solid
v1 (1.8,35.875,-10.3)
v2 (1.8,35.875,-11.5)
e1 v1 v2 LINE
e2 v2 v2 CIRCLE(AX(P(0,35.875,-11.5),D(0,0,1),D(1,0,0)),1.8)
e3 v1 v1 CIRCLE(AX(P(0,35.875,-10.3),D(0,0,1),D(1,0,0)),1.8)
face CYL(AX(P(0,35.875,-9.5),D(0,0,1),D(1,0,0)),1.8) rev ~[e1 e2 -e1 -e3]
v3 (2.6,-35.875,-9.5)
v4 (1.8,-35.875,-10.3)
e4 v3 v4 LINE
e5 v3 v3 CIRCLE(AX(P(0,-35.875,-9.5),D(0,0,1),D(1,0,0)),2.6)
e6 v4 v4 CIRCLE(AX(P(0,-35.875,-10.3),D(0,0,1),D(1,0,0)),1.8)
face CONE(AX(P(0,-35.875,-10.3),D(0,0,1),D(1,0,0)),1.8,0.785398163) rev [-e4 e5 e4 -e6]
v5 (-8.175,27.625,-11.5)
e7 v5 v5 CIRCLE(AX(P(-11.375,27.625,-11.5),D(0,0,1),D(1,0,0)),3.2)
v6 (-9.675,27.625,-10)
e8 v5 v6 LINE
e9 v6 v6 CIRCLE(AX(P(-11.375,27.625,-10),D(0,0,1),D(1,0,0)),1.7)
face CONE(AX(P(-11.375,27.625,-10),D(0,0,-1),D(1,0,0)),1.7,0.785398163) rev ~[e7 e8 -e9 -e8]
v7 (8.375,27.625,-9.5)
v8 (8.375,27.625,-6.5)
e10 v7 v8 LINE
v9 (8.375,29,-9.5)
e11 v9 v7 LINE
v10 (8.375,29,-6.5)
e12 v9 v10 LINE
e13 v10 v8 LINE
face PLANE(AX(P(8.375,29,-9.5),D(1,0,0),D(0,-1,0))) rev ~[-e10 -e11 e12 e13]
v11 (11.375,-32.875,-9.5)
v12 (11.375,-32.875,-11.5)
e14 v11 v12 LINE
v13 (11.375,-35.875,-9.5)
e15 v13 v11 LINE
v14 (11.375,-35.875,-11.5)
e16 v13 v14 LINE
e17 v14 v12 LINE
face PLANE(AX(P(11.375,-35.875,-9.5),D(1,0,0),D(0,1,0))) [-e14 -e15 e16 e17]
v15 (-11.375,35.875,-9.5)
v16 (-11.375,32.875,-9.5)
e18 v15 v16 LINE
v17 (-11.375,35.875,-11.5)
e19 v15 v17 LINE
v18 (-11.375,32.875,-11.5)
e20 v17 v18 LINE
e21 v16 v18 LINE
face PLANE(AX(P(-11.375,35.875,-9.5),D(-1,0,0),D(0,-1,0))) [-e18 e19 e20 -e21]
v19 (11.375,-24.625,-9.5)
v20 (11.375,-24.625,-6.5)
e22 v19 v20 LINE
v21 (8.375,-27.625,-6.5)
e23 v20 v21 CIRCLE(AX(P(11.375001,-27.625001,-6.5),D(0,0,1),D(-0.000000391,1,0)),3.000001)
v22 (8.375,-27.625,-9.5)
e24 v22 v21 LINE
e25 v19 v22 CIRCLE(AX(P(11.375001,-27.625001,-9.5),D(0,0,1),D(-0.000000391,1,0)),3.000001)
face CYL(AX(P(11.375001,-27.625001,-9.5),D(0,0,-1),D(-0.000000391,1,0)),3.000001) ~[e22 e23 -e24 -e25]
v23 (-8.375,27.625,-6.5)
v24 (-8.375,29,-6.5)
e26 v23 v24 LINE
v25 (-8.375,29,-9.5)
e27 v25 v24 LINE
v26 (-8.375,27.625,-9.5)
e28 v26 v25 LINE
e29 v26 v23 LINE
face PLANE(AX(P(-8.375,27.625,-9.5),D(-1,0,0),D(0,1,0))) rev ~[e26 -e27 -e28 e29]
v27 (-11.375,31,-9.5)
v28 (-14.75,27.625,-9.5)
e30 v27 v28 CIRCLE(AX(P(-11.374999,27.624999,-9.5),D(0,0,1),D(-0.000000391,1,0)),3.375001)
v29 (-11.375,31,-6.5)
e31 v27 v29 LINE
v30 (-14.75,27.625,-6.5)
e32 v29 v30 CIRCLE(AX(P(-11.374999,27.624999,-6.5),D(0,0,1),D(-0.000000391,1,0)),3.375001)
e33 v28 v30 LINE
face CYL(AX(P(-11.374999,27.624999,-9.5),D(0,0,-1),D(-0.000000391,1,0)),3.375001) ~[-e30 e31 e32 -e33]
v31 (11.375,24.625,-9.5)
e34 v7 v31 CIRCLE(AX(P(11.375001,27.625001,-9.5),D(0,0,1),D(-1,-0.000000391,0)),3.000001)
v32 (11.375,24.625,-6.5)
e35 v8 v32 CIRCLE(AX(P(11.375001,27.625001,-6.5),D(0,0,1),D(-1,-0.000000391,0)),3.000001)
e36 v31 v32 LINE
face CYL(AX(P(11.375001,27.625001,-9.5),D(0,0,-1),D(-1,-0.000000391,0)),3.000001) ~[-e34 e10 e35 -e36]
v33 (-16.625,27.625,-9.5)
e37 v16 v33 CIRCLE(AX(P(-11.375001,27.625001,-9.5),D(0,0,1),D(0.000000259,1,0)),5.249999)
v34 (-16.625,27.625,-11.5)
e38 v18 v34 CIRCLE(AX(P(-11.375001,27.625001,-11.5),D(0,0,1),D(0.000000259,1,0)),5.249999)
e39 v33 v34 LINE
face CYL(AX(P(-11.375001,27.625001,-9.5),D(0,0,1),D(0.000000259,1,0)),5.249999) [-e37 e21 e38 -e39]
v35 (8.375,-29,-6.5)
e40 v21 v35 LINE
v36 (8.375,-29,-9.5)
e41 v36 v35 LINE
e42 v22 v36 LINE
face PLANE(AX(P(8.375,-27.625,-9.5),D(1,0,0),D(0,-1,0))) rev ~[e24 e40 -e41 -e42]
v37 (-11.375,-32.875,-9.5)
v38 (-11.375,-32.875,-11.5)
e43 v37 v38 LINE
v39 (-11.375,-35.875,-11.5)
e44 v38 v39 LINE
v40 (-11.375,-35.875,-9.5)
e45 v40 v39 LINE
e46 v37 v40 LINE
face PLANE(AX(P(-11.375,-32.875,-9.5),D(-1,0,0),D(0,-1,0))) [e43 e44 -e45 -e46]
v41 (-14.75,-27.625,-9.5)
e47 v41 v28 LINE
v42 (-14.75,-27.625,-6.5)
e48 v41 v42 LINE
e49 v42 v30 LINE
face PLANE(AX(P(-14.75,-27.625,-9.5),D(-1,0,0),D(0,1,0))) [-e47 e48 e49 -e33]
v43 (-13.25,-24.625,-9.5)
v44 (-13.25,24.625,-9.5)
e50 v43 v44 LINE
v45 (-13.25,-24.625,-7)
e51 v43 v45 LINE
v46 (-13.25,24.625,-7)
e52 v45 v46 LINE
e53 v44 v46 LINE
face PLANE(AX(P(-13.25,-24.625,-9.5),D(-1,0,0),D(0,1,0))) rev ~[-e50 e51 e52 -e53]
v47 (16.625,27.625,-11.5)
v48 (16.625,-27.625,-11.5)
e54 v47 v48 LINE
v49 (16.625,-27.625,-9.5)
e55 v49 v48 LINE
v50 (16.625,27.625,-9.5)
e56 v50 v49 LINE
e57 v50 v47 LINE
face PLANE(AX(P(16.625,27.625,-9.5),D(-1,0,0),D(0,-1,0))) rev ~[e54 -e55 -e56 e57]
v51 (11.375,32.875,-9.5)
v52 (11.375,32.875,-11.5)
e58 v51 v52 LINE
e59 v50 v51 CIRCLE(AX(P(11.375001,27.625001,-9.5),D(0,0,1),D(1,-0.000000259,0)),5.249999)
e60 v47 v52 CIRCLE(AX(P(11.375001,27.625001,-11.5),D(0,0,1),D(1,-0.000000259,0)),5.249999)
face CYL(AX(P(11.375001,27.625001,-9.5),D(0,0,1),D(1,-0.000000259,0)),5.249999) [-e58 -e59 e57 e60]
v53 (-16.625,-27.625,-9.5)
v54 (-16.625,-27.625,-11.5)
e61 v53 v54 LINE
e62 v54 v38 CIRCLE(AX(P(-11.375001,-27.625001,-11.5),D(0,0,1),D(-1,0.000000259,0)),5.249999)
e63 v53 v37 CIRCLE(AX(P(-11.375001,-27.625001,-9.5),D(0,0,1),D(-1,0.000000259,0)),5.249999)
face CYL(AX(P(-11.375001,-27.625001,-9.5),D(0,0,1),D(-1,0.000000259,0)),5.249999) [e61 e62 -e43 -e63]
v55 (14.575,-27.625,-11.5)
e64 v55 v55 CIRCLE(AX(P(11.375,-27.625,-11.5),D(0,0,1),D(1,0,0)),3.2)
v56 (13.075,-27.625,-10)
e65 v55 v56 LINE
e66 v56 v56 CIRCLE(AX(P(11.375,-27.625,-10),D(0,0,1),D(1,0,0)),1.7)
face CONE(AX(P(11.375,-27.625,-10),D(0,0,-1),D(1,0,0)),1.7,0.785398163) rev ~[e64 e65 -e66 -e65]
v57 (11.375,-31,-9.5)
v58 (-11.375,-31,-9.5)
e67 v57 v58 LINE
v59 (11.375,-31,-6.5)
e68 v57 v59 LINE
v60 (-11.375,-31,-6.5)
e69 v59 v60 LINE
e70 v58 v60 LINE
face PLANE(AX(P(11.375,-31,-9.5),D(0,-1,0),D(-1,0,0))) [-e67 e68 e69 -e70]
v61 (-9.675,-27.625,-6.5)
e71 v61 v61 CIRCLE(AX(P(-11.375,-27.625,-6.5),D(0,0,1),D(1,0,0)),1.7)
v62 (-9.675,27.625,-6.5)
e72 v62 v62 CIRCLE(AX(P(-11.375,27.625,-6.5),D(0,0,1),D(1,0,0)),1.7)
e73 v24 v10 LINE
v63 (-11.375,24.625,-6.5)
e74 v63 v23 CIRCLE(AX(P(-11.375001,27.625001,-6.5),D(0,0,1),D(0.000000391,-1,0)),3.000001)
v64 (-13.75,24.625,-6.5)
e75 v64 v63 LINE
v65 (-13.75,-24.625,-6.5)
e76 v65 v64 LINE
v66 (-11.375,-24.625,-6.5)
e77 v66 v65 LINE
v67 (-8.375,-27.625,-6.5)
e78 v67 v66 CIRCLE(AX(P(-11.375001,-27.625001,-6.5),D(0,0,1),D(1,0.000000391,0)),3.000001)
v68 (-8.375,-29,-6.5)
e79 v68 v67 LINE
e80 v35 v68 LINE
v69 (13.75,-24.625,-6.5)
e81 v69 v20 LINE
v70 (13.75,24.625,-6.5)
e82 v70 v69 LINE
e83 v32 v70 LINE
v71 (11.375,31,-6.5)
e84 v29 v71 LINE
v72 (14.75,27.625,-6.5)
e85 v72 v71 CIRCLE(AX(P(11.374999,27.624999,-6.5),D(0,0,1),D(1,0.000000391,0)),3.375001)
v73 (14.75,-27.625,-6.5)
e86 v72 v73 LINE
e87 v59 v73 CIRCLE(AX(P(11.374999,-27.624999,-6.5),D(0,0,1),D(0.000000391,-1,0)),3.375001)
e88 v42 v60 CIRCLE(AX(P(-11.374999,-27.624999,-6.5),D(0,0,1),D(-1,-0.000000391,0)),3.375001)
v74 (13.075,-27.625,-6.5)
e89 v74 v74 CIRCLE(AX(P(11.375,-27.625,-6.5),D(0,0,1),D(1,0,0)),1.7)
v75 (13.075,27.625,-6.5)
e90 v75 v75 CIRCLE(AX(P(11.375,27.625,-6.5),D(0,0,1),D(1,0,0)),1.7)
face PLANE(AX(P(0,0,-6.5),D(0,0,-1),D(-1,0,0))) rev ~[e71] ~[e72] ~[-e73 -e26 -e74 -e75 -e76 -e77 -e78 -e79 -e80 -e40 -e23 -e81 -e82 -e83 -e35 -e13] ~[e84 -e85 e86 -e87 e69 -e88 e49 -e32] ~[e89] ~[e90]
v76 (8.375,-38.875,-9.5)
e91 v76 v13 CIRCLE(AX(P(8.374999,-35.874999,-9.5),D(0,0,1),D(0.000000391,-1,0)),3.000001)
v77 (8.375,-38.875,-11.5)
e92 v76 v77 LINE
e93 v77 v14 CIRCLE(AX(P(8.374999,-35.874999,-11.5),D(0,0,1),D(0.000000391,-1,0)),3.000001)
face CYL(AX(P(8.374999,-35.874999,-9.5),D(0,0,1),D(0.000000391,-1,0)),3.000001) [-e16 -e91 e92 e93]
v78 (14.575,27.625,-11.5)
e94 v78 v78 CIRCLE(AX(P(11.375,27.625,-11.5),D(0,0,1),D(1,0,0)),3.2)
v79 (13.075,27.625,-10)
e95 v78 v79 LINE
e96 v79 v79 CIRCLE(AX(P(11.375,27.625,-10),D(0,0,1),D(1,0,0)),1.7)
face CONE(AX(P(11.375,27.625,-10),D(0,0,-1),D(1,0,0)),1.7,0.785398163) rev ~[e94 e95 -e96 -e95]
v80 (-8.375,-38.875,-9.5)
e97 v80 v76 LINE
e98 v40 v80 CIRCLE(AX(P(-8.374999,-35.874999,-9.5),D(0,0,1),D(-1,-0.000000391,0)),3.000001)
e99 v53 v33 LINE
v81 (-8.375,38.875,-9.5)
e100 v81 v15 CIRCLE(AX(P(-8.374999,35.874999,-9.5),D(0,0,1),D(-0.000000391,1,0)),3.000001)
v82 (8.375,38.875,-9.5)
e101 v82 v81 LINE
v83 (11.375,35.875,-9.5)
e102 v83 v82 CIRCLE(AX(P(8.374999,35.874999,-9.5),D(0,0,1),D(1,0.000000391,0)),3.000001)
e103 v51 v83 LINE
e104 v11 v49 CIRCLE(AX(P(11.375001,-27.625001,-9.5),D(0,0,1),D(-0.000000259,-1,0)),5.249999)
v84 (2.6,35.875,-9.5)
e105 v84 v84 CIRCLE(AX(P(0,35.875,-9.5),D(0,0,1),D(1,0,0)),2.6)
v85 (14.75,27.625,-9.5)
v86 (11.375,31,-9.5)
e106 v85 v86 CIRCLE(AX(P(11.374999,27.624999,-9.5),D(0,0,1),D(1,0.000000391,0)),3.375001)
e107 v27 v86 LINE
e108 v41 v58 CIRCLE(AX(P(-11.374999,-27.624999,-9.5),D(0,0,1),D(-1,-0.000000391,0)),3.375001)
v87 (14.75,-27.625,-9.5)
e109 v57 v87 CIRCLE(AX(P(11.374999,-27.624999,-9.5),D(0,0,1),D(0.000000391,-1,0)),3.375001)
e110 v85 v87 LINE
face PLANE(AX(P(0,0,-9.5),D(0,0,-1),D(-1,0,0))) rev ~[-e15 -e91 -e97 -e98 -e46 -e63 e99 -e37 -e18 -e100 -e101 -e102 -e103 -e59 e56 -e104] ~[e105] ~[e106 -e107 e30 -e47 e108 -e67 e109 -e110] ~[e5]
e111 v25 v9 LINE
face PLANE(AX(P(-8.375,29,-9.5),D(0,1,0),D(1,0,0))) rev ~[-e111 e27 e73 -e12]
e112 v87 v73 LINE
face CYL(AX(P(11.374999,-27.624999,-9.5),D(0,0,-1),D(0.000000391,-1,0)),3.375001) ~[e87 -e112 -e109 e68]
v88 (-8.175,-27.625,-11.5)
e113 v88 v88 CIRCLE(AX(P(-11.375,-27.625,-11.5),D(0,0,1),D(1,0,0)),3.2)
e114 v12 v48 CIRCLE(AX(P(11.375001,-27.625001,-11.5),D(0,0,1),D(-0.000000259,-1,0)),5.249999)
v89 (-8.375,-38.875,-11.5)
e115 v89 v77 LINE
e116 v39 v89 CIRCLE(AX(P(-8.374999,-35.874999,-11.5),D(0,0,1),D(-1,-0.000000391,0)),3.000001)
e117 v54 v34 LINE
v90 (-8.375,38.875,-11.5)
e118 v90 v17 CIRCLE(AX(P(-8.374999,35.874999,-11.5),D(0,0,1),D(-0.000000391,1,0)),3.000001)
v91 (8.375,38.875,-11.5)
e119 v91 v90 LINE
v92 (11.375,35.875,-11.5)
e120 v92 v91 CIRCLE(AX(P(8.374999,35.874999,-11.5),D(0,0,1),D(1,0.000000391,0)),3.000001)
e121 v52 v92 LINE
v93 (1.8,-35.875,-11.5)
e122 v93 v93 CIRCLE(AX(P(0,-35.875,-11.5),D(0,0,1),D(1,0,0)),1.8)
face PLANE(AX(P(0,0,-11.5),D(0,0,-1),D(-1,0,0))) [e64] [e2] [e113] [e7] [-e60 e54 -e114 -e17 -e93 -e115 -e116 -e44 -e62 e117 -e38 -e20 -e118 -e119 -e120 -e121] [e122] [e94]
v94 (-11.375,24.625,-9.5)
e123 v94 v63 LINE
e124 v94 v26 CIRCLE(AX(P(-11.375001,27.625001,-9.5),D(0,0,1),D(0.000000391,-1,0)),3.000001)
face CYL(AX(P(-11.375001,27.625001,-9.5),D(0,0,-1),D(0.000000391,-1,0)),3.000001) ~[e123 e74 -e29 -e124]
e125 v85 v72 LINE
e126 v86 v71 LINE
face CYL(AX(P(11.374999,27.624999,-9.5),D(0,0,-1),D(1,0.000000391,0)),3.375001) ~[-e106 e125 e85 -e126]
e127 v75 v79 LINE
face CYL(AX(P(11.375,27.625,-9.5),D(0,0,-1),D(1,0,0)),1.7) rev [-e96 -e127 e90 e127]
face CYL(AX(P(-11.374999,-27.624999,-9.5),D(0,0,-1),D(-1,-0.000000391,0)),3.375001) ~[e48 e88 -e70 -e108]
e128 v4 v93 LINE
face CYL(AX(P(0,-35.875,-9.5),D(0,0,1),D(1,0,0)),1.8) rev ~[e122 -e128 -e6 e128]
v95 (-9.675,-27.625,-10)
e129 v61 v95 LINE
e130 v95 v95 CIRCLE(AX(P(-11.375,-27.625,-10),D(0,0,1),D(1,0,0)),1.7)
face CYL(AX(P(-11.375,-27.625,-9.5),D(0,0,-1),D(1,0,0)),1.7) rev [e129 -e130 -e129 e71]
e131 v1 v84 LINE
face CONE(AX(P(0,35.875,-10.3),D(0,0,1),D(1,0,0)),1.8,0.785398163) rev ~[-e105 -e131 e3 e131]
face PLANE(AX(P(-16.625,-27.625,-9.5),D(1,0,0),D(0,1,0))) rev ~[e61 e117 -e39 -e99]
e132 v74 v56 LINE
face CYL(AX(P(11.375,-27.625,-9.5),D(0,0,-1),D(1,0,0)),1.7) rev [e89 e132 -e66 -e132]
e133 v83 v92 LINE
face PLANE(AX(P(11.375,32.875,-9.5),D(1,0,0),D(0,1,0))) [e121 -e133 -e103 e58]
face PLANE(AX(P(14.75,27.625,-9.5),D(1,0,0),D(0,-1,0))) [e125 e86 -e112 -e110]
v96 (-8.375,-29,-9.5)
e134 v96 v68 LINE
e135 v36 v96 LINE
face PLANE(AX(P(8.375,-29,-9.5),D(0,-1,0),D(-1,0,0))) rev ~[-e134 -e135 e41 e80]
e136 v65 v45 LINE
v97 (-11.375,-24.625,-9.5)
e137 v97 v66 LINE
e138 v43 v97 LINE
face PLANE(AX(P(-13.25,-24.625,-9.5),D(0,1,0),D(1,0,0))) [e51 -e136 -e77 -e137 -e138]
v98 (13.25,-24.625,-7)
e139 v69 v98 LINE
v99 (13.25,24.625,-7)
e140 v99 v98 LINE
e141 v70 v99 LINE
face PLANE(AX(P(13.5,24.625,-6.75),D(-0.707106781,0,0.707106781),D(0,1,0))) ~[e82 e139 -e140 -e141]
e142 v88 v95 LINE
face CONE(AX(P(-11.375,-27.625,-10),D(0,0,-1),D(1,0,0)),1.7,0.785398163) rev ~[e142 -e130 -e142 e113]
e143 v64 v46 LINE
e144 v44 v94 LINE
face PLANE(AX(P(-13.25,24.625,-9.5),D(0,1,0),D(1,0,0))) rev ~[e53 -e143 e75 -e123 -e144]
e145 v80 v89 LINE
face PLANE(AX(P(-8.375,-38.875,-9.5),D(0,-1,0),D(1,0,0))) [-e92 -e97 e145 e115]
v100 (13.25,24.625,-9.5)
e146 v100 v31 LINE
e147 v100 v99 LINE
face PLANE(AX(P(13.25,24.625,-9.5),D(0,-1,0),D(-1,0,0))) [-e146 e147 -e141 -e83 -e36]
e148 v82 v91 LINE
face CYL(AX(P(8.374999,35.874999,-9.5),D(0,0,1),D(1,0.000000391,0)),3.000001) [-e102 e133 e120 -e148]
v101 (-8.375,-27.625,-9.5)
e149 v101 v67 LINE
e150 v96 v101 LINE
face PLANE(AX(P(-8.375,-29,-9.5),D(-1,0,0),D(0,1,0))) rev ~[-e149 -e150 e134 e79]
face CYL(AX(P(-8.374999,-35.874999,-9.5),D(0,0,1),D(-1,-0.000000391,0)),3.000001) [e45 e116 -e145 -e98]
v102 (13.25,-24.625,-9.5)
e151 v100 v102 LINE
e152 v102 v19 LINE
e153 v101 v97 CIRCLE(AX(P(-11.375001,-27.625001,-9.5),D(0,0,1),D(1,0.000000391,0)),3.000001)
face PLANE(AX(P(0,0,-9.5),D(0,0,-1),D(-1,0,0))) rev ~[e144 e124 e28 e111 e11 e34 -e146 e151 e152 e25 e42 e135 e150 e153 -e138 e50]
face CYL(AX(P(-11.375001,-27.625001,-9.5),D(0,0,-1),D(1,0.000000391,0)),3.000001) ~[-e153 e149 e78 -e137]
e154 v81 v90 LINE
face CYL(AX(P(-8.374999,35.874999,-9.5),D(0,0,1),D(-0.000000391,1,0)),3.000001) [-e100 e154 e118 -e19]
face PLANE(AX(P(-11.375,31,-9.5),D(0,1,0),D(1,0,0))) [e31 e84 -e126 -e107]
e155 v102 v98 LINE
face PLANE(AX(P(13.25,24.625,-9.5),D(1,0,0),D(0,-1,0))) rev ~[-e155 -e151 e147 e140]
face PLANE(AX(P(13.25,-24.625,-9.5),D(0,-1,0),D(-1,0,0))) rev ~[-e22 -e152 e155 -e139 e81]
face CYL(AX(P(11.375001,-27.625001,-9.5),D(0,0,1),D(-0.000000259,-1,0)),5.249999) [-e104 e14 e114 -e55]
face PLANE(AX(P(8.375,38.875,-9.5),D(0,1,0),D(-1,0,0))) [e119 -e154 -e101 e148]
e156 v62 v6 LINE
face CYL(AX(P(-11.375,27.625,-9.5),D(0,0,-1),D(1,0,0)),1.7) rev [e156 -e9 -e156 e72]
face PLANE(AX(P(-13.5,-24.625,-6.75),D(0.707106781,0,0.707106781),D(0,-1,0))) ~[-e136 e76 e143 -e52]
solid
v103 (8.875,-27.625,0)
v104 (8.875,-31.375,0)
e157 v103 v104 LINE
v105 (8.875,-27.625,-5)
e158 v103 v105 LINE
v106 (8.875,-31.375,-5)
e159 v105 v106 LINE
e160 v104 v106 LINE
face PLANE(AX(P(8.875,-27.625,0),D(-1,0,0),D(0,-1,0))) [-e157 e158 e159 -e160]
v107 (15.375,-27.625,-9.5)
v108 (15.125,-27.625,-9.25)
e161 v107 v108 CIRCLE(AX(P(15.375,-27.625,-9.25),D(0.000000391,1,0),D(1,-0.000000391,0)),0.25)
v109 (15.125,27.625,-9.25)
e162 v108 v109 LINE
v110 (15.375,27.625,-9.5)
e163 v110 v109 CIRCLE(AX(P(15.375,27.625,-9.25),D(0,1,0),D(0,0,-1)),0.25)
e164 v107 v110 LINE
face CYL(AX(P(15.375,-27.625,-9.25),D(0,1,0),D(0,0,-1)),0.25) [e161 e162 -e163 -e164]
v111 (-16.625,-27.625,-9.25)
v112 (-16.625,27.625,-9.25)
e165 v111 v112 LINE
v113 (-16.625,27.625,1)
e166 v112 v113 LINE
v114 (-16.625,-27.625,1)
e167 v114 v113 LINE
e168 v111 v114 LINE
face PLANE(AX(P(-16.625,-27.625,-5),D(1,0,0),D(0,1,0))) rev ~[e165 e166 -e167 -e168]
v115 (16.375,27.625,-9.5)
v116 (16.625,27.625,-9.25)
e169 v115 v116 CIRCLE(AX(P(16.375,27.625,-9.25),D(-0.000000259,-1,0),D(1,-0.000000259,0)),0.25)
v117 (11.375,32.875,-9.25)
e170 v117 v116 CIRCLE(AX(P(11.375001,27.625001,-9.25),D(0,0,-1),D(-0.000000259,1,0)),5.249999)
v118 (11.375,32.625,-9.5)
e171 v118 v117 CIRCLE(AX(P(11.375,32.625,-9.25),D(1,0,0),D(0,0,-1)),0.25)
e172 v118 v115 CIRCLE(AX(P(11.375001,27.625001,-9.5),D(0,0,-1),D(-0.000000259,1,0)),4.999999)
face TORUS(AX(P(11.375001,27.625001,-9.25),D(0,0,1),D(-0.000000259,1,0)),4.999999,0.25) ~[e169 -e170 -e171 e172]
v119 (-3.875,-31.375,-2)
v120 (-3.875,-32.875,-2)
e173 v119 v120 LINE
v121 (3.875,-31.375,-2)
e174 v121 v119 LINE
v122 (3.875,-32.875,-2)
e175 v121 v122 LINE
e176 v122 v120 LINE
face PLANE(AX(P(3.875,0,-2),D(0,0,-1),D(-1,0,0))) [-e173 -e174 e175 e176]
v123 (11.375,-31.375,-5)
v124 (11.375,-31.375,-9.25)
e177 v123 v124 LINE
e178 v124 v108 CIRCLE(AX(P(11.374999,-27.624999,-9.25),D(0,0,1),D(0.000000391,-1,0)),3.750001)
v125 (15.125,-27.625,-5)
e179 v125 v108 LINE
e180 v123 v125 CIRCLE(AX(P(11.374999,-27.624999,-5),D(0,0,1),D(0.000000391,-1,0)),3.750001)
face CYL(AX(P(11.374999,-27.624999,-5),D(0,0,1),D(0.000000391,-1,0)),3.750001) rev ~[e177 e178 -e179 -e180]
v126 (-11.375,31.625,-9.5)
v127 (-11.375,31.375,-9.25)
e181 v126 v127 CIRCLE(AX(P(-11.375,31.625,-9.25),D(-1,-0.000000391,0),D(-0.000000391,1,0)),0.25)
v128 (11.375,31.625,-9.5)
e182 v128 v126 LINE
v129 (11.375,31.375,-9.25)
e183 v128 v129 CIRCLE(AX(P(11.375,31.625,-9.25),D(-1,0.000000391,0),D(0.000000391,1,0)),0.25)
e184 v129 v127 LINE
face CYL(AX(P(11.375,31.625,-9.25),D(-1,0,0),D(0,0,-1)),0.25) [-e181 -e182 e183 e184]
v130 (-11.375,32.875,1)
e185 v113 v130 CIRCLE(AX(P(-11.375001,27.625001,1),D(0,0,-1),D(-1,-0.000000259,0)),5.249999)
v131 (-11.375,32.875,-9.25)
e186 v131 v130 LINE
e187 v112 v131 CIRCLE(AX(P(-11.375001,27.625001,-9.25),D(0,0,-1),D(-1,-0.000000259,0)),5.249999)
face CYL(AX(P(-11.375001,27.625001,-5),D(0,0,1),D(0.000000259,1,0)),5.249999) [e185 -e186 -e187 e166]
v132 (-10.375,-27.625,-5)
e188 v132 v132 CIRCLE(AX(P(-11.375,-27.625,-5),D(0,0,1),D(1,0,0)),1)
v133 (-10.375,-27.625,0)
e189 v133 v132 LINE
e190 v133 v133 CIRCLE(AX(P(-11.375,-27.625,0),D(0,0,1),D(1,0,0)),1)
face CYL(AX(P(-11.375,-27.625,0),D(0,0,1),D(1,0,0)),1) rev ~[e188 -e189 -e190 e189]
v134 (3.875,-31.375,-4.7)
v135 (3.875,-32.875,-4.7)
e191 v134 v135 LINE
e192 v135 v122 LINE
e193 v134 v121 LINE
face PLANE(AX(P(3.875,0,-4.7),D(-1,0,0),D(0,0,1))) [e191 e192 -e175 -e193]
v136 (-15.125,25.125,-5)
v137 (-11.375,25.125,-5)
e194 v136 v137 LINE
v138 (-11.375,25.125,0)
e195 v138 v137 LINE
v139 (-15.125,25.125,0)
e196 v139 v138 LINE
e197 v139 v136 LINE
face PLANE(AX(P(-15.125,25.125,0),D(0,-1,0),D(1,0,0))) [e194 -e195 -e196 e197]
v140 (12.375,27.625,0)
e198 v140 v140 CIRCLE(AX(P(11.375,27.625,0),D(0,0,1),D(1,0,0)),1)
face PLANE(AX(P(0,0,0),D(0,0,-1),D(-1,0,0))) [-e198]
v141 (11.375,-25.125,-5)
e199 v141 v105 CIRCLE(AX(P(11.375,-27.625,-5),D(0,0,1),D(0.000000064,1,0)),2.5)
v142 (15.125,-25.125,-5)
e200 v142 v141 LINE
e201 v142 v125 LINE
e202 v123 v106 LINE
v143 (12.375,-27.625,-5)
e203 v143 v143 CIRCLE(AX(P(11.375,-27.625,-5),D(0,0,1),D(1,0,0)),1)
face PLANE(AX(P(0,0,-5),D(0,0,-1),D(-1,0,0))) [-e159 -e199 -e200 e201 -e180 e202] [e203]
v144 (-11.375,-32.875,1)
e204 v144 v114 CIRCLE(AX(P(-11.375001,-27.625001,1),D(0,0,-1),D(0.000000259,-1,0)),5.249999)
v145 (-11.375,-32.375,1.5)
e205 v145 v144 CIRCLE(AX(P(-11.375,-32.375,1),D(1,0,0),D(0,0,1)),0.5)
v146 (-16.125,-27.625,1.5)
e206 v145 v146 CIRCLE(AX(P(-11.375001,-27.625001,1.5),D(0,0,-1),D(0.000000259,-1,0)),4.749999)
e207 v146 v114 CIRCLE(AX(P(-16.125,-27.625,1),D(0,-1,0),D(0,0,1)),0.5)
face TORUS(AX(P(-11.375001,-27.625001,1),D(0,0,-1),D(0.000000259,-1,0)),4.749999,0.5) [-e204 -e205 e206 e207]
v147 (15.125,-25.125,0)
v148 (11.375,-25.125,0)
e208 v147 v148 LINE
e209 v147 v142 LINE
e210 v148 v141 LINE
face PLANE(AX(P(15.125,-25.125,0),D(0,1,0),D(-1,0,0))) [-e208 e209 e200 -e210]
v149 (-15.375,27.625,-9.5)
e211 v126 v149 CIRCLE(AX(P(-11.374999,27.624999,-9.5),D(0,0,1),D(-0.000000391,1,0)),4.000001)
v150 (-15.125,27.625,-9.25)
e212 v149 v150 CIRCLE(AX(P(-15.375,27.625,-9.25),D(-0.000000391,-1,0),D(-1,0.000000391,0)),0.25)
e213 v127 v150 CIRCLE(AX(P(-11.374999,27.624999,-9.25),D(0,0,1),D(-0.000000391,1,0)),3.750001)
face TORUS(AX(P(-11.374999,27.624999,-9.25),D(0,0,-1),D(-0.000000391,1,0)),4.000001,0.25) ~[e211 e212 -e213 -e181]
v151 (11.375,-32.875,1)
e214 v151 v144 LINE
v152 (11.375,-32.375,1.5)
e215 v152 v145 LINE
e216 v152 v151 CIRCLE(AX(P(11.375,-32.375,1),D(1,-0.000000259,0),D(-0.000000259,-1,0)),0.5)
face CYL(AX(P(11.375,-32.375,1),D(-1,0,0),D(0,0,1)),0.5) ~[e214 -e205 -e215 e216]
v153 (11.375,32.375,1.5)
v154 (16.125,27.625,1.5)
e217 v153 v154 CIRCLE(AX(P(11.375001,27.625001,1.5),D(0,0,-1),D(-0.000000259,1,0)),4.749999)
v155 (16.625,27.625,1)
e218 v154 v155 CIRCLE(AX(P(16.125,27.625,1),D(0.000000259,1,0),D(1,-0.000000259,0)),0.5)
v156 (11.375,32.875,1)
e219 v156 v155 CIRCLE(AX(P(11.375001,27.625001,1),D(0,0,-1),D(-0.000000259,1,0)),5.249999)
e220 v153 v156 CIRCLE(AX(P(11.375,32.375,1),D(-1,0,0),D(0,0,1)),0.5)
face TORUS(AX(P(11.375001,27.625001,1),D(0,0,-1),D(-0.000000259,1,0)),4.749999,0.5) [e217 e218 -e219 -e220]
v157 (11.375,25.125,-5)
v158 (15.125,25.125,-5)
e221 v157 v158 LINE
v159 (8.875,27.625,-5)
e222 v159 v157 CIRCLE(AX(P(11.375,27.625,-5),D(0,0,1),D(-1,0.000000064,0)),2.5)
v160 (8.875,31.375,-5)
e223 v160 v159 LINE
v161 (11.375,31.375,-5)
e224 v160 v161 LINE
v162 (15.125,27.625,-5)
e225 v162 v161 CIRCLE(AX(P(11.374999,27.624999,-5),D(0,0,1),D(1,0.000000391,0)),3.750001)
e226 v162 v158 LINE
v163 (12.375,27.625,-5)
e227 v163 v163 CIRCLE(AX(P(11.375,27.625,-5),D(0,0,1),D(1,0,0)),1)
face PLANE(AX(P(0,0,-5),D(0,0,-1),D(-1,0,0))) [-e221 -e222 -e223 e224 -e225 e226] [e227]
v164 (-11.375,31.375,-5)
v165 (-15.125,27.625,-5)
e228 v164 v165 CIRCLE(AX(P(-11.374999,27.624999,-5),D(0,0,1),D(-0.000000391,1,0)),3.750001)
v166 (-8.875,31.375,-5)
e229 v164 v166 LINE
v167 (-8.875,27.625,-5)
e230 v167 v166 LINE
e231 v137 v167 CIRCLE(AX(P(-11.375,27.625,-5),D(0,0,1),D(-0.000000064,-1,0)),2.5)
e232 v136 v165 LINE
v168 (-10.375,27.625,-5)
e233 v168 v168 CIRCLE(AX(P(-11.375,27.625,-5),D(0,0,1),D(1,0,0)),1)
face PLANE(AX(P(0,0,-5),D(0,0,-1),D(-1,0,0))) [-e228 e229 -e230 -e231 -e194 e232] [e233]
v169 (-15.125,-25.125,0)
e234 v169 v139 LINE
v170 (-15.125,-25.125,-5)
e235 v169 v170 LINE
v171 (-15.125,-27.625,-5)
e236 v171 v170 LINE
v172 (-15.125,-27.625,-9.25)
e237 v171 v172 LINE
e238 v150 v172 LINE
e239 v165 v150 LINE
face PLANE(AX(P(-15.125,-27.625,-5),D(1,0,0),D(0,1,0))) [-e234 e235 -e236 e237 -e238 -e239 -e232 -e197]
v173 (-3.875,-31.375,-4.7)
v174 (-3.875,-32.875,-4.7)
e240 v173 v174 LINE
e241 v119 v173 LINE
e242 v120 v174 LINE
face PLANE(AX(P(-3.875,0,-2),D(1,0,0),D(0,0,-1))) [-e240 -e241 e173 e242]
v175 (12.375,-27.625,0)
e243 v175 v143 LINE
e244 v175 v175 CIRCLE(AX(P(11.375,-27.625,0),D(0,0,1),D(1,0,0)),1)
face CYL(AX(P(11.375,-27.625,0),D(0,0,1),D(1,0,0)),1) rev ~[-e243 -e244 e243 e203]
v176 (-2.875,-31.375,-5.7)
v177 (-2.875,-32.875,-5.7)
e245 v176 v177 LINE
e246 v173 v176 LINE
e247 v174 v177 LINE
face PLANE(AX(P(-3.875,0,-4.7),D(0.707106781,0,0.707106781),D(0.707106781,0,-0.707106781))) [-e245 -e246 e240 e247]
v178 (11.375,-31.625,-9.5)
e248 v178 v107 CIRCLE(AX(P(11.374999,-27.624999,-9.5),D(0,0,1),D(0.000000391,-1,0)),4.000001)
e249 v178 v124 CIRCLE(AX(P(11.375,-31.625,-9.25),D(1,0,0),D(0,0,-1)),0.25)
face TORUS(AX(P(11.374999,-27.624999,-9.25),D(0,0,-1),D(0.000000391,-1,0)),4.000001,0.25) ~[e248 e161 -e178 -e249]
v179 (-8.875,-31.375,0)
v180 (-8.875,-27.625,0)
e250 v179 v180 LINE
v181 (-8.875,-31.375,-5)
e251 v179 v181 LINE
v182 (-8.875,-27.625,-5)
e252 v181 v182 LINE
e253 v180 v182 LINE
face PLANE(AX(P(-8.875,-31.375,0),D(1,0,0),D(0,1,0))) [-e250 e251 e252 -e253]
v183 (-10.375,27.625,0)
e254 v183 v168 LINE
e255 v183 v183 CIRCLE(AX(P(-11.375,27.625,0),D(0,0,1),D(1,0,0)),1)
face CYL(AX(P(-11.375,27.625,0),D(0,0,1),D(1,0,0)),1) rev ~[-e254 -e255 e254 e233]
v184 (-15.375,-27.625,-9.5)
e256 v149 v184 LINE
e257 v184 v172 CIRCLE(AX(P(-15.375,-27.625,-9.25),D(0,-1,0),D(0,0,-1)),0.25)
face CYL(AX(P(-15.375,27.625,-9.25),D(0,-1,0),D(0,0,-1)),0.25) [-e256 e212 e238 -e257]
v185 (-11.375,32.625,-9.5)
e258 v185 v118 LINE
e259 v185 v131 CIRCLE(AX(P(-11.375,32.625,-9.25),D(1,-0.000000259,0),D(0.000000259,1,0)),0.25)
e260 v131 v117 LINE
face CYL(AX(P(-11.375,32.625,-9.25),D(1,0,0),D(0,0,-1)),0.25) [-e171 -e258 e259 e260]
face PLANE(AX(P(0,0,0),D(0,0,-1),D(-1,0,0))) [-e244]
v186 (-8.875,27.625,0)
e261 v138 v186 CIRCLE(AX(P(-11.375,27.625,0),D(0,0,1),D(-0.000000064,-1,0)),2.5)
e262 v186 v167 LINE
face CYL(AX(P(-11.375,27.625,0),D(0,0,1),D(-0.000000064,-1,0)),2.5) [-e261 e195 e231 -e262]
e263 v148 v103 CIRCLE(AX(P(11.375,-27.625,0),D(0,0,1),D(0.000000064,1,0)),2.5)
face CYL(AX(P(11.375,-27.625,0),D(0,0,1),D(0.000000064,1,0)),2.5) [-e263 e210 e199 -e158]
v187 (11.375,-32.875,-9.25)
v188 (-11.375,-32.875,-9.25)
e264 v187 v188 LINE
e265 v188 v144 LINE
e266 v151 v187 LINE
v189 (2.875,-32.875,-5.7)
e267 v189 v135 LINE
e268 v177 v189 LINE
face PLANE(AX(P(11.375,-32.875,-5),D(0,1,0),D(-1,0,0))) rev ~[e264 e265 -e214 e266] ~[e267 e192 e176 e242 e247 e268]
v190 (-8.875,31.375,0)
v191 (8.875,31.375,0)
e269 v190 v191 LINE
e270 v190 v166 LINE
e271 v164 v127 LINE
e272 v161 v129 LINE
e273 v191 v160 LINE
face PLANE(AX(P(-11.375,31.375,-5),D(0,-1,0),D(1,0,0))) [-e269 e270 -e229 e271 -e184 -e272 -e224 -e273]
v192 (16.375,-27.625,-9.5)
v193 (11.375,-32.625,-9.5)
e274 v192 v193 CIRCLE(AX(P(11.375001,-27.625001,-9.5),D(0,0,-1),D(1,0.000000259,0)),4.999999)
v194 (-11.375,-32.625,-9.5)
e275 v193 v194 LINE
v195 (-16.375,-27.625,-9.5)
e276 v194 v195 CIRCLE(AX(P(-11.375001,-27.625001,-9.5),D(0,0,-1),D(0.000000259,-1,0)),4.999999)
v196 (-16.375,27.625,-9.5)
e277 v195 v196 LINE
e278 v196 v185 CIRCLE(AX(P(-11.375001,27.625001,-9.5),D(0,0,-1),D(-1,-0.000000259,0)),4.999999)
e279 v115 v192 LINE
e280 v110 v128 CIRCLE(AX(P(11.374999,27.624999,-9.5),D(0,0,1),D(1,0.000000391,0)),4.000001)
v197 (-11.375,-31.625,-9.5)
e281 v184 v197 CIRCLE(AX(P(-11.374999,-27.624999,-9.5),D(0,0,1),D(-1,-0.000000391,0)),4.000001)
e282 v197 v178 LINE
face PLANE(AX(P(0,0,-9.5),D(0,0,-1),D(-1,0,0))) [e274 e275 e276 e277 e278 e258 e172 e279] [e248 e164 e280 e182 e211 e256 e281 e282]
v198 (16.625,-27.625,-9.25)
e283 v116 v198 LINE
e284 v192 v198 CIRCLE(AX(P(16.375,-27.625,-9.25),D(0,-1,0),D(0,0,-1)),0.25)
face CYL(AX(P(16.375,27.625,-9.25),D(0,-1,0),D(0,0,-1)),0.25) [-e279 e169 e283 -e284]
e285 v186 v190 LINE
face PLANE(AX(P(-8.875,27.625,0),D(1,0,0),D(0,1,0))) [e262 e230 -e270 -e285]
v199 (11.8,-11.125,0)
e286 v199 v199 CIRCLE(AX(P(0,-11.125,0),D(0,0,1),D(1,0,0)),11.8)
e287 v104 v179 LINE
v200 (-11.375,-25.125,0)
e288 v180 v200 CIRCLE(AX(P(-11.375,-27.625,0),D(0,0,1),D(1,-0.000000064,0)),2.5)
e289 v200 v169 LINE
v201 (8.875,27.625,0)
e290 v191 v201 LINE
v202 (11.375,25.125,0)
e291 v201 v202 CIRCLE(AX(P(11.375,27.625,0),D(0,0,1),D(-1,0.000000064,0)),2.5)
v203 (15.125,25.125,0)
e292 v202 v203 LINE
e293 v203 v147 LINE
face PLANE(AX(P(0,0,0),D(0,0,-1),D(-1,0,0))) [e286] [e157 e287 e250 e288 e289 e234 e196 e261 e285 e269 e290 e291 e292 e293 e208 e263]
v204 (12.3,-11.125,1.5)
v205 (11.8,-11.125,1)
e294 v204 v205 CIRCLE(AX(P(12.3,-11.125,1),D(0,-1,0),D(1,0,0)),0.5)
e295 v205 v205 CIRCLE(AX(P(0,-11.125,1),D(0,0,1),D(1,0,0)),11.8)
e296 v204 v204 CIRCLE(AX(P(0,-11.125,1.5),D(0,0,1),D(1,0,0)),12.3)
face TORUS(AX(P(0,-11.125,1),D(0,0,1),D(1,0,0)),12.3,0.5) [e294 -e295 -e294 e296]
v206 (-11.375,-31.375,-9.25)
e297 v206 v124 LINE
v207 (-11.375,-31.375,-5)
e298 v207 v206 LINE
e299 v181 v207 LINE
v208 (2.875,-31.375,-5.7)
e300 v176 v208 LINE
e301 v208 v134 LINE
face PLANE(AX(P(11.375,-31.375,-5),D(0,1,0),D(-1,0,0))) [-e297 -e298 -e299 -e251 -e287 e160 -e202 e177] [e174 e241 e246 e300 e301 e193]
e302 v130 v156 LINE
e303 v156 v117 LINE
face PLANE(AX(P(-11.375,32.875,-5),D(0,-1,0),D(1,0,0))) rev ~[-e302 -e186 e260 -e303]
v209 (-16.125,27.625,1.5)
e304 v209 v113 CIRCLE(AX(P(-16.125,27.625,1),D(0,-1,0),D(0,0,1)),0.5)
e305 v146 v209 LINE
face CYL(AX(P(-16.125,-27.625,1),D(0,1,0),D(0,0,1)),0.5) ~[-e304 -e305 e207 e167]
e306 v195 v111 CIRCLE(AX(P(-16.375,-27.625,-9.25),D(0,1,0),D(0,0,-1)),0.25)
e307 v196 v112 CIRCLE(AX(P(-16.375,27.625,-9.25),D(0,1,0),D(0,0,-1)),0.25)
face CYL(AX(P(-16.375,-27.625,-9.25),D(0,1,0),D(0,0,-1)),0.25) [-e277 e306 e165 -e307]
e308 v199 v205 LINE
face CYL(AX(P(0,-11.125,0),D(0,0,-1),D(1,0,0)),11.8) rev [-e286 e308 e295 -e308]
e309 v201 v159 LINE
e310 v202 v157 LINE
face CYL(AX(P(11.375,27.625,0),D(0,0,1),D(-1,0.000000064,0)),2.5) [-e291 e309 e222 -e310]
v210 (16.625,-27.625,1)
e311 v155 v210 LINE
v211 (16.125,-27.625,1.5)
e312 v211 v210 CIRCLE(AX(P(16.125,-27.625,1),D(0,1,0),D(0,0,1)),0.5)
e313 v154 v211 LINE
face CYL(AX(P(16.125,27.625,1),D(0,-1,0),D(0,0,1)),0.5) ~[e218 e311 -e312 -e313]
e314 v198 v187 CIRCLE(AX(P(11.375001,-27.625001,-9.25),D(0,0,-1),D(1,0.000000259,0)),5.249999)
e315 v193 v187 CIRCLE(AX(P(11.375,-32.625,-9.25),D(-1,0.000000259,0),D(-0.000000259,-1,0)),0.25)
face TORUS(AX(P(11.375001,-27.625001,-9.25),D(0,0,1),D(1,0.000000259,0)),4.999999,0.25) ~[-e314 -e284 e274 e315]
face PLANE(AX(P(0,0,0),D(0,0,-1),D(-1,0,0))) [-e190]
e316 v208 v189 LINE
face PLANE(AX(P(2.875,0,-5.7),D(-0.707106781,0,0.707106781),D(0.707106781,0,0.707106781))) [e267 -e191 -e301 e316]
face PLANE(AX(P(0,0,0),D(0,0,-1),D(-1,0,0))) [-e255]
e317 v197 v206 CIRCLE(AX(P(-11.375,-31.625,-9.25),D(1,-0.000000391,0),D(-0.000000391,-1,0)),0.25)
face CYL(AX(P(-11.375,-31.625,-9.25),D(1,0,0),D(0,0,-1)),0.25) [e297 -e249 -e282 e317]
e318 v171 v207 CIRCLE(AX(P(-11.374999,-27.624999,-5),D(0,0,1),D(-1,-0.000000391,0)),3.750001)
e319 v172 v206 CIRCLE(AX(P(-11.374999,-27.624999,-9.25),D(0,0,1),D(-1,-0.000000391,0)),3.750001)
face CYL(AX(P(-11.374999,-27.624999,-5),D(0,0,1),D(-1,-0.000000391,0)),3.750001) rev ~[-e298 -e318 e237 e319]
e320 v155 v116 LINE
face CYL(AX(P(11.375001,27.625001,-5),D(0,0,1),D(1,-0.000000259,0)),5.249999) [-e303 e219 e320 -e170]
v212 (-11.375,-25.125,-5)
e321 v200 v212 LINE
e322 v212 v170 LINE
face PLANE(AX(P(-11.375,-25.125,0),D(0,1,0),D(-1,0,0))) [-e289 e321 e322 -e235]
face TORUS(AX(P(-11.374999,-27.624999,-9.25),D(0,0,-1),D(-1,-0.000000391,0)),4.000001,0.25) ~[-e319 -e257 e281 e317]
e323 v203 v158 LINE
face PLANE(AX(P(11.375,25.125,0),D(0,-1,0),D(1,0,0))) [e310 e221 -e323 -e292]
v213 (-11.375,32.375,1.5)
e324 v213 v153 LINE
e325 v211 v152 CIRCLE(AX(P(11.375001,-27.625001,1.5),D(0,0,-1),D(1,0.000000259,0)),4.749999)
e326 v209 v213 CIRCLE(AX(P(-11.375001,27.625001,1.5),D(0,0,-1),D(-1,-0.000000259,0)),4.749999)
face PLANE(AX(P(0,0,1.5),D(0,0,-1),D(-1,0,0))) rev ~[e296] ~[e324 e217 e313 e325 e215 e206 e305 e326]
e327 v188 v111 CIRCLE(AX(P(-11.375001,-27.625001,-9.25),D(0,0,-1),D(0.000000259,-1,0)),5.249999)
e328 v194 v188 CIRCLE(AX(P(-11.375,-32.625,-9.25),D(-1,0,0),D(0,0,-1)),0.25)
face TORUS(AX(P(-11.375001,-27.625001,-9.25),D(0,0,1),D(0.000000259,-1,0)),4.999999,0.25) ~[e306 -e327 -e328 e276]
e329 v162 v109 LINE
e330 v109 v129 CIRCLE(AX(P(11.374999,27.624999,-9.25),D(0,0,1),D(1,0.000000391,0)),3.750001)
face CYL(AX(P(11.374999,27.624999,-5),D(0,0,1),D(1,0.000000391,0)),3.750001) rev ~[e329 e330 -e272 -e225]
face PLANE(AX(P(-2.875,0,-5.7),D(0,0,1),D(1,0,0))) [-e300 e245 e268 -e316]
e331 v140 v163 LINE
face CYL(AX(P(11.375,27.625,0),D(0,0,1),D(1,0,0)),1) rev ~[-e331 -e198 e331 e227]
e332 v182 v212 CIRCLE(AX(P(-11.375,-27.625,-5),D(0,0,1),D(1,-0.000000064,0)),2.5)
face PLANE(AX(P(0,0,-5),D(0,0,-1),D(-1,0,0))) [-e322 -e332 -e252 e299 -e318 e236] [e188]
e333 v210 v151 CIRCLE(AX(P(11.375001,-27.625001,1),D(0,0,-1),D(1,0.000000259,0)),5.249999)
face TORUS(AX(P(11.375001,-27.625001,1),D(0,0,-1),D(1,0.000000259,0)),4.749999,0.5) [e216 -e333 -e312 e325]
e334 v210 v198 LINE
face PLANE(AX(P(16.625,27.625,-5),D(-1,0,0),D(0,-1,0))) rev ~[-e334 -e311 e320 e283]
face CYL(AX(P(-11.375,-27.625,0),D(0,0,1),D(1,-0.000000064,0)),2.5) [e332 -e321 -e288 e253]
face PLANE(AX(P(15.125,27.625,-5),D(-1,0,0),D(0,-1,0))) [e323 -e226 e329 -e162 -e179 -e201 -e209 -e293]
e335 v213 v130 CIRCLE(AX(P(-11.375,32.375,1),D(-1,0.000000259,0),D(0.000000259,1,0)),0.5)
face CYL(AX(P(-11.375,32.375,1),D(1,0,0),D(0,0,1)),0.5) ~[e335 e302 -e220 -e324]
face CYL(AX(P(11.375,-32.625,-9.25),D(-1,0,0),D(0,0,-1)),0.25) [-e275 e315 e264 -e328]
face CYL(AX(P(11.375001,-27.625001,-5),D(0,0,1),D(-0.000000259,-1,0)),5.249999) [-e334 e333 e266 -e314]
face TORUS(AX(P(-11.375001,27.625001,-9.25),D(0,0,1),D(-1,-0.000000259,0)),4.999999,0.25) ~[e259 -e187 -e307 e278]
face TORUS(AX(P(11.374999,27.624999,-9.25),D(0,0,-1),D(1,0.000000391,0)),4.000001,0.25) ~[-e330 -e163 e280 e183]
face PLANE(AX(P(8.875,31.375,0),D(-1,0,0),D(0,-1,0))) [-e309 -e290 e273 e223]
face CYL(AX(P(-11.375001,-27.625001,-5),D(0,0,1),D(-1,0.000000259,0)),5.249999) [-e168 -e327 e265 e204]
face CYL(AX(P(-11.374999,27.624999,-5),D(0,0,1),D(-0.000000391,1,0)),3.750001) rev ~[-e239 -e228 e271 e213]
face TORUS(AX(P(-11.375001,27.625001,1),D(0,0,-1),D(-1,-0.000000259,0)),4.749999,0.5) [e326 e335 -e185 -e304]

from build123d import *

# Parameters (mm, degrees)
SKETCH001_R     = 1
PAD_DEPTH       = 5
SKETCH002_R     = 11.8
PAD001_DEPTH    = 1.5
PAD002_DEPTH    = 4.5
POCKET_DEPTH    = 32.876
FILLET_R        = 0.5
FILLET001_R     = 0.25
SKETCH005_R     = 1.7
SKETCH005_R_2   = 1.8
PAD003_DEPTH    = 2
SKETCH006_R     = 1.7
PAD004_DEPTH    = 3
CHAMFER_SIZE    = 0.5
CHAMFER001_SIZE = 0.8
CHAMFER002_SIZE = 1.5


with BuildPart() as front_section:
    # Sketch001 → Pad (new body)
    with BuildSketch(Plane.XY):
        with BuildLine():
            Line((-11.375, 32.875), (11.375, 32.875))
            ThreePointArc((16.625, 27.625), (15.087311, 31.337311), (11.375, 32.875))
            Line((16.625, 27.625), (16.625, -27.625))
            ThreePointArc((11.375, -32.875), (15.087311, -31.337311), (16.625, -27.625))
            Line((11.375, -32.875), (-11.375, -32.875))
            ThreePointArc((-16.625, -27.625), (-15.087311, -31.337311), (-11.375, -32.875))
            Line((-16.625, -27.625), (-16.625, 27.625))
            ThreePointArc((-11.375, 32.875), (-15.087311, 31.337311), (-16.625, 27.625))
        make_face()
        with Locations((-11.375, 27.625)):
            Circle(SKETCH001_R, mode=Mode.SUBTRACT)
        with Locations((11.375, 27.625)):
            Circle(SKETCH001_R, mode=Mode.SUBTRACT)
        with Locations((11.375, -27.625)):
            Circle(SKETCH001_R, mode=Mode.SUBTRACT)
        with Locations((-11.375, -27.625)):
            Circle(SKETCH001_R, mode=Mode.SUBTRACT)
        with BuildLine():
            ThreePointArc((-8.875, -27.625), (-9.607233, -25.857233), (-11.375, -25.125))
            Line((-11.375, -25.125), (-15.125, -25.125))
            Line((-15.125, -25.125), (-15.125, 25.125))
            Line((-15.125, 25.125), (-11.375, 25.125))
            ThreePointArc((-11.375, 25.125), (-9.607233, 25.857233), (-8.875, 27.625))
            Line((-8.875, 27.625), (-8.875, 31.375))
            Line((-8.875, 31.375), (8.875, 31.375))
            Line((8.875, 31.375), (8.875, 27.625))
            ThreePointArc((8.875, 27.625), (9.607233, 25.857233), (11.375, 25.125))
            Line((11.375, 25.125), (15.125, 25.125))
            Line((15.125, 25.125), (15.125, -25.125))
            Line((15.125, -25.125), (11.375, -25.125))
            ThreePointArc((11.375, -25.125), (9.607233, -25.857233), (8.875, -27.625))
            Line((8.875, -27.625), (8.875, -31.375))
            Line((8.875, -31.375), (-8.875, -31.375))
            Line((-8.875, -31.375), (-8.875, -27.625))
        make_face(mode=Mode.SUBTRACT)
    extrude(amount=-PAD_DEPTH)

    # Sketch002 → Pad001 (join)
    with BuildSketch(Plane.XY):
        with BuildLine():
            Line((-11.375, 32.875), (11.375, 32.875))
            ThreePointArc((16.625, 27.625), (15.087311, 31.337311), (11.375, 32.875))
            Line((16.625, 27.625), (16.625, -27.625))
            ThreePointArc((11.375, -32.875), (15.087311, -31.337311), (16.625, -27.625))
            Line((11.375, -32.875), (-11.375, -32.875))
            ThreePointArc((-16.625, -27.625), (-15.087311, -31.337311), (-11.375, -32.875))
            Line((-16.625, -27.625), (-16.625, 27.625))
            ThreePointArc((-11.375, 32.875), (-15.087311, 31.337311), (-16.625, 27.625))
        make_face()
        with Locations((0, -11.125)):
            Circle(SKETCH002_R, mode=Mode.SUBTRACT)
    extrude(amount=PAD001_DEPTH)

    # Sketch003 → Pad002 (join)
    with BuildSketch(Plane.XY.offset(-5)):
        with BuildLine():
            Line((-11.375, 32.875), (11.375, 32.875))
            ThreePointArc((16.625, 27.625), (15.087311, 31.337311), (11.375, 32.875))
            Line((16.625, 27.625), (16.625, -27.625))
            ThreePointArc((11.375, -32.875), (15.087311, -31.337311), (16.625, -27.625))
            Line((11.375, -32.875), (-11.375, -32.875))
            ThreePointArc((-16.625, -27.625), (-15.087311, -31.337311), (-11.375, -32.875))
            Line((-16.625, -27.625), (-16.625, 27.625))
            ThreePointArc((-11.375, 32.875), (-15.087311, 31.337311), (-16.625, 27.625))
        make_face()
        with BuildLine():
            Line((-11.375, 31.375), (11.375, 31.375))
            ThreePointArc((15.125, 27.625), (14.02665, 30.27665), (11.375, 31.375))
            Line((15.125, 27.625), (15.125, -27.625))
            ThreePointArc((11.375, -31.375), (14.02665, -30.27665), (15.125, -27.625))
            Line((11.375, -31.375), (-11.375, -31.375))
            ThreePointArc((-15.125, -27.625), (-14.02665, -30.27665), (-11.375, -31.375))
            Line((-15.125, -27.625), (-15.125, 27.625))
            ThreePointArc((-11.375, 31.375), (-14.02665, 30.27665), (-15.125, 27.625))
        make_face(mode=Mode.SUBTRACT)
    extrude(amount=-PAD002_DEPTH)

    # Sketch004 → Pocket (cut, through all)
    with BuildSketch(Plane.XZ):
        Polygon((3.875, -2), (-3.875, -2), (-3.875, -4.7), (-2.875, -5.7), (2.875, -5.7), (3.875, -4.7), align=None)
    extrude(amount=POCKET_DEPTH, mode=Mode.SUBTRACT)

    # Fillet
    fillet_edges = [front_section.edges().sort_by_distance(p)[0] for p in [
        (-16.625, 0, 1.5),
        (-15.087311, 31.337311, 1.5),
        (0, 32.875, 1.5),
        (15.087311, 31.337311, 1.5),
        (16.625, 0, 1.5),
        (15.087311, -31.337311, 1.5),
        (0, -32.875, 1.5),
        (-15.087311, -31.337311, 1.5),
        (-11.8, -11.125, 1.5),
    ]]
    fillet(fillet_edges, radius=FILLET_R)

    # Fillet001
    fillet001_edges = [front_section.edges().sort_by_distance(p)[0] for p in [
        (-16.625, 0, -9.5),
        (-15.087311, 31.337311, -9.5),
        (0, 32.875, -9.5),
        (15.087311, 31.337311, -9.5),
        (16.625, 0, -9.5),
        (15.087311, -31.337311, -9.5),
        (0, -32.875, -9.5),
        (-15.087311, -31.337311, -9.5),
        (-14.02665, 30.27665, -9.5),
        (-15.125, 0, -9.5),
        (-14.02665, -30.27665, -9.5),
        (0, -31.375, -9.5),
        (14.02665, -30.27665, -9.5),
        (15.125, 0, -9.5),
        (14.02665, 30.27665, -9.5),
        (0, 31.375, -9.5),
    ]]
    fillet(fillet001_edges, radius=FILLET001_R)


with BuildPart() as rear_panel:
    # Sketch005 → Pad003 (new body)
    with BuildSketch(Plane.XY.offset(-9.5)):
        with BuildLine():
            Line((16.625, 27.625), (16.625, -27.625))
            ThreePointArc((11.375, -32.875), (15.087311, -31.337311), (16.625, -27.625))
            Line((11.375, -35.875), (11.375, -32.875))
            ThreePointArc((8.375, -38.875), (10.49632, -37.99632), (11.375, -35.875))
            Line((-8.375, -38.875), (8.375, -38.875))
            ThreePointArc((-11.375, -35.875), (-10.49632, -37.99632), (-8.375, -38.875))
            Line((-11.375, -32.875), (-11.375, -35.875))
            ThreePointArc((-16.625, -27.625), (-15.087311, -31.337311), (-11.375, -32.875))
            Line((-16.625, -27.625), (-16.625, 27.625))
            ThreePointArc((-11.375, 32.875), (-15.087311, 31.337311), (-16.625, 27.625))
            Line((-11.375, 35.875), (-11.375, 32.875))
            ThreePointArc((-8.375, 38.875), (-10.49632, 37.99632), (-11.375, 35.875))
            Line((8.375, 38.875), (-8.375, 38.875))
            ThreePointArc((11.375, 35.875), (10.49632, 37.99632), (8.375, 38.875))
            Line((11.375, 32.875), (11.375, 35.875))
            ThreePointArc((16.625, 27.625), (15.087311, 31.337311), (11.375, 32.875))
        make_face()
        with Locations((-11.375, 27.625)):
            Circle(SKETCH005_R, mode=Mode.SUBTRACT)
        with Locations((11.375, 27.625)):
            Circle(SKETCH005_R, mode=Mode.SUBTRACT)
        with Locations((11.375, -27.625)):
            Circle(SKETCH005_R, mode=Mode.SUBTRACT)
        with Locations((-11.375, -27.625)):
            Circle(SKETCH005_R, mode=Mode.SUBTRACT)
        with Locations((0, 35.875)):
            Circle(SKETCH005_R_2, mode=Mode.SUBTRACT)
        with Locations((0, -35.875)):
            Circle(SKETCH005_R_2, mode=Mode.SUBTRACT)
    extrude(amount=-PAD003_DEPTH)

    # Sketch006 → Pad004 (join)
    with BuildSketch(Plane.XY.offset(-9.5)):
        with BuildLine():
            Line((-11.375, 31), (11.375, 31))
            ThreePointArc((14.75, 27.625), (13.761485, 30.011485), (11.375, 31))
            Line((14.75, 27.625), (14.75, -27.625))
            ThreePointArc((11.375, -31), (13.761485, -30.011485), (14.75, -27.625))
            Line((11.375, -31), (-11.375, -31))
            ThreePointArc((-14.75, -27.625), (-13.761485, -30.011485), (-11.375, -31))
            Line((-14.75, -27.625), (-14.75, 27.625))
            ThreePointArc((-11.375, 31), (-13.761485, 30.011485), (-14.75, 27.625))
        make_face()
        with Locations((-11.375, 27.625)):
            Circle(SKETCH006_R, mode=Mode.SUBTRACT)
        with Locations((11.375, 27.625)):
            Circle(SKETCH006_R, mode=Mode.SUBTRACT)
        with Locations((11.375, -27.625)):
            Circle(SKETCH006_R, mode=Mode.SUBTRACT)
        with Locations((-11.375, -27.625)):
            Circle(SKETCH006_R, mode=Mode.SUBTRACT)
        with BuildLine():
            ThreePointArc((-8.375, -27.625), (-9.25368, -25.50368), (-11.375, -24.625))
            Line((-13.25, -24.625), (-11.375, -24.625))
            Line((-13.25, -24.625), (-13.25, 24.625))
            Line((-13.25, 24.625), (-11.375, 24.625))
            ThreePointArc((-11.375, 24.625), (-9.25368, 25.50368), (-8.375, 27.625))
            Line((-8.375, 27.625), (-8.375, 29))
            Line((-8.375, 29), (8.375, 29))
            Line((8.375, 29), (8.375, 27.625))
            ThreePointArc((8.375, 27.625), (9.25368, 25.50368), (11.375, 24.625))
            Line((13.25, 24.625), (11.375, 24.625))
            Line((13.25, 24.625), (13.25, -24.625))
            Line((13.25, -24.625), (11.375, -24.625))
            ThreePointArc((11.375, -24.625), (9.25368, -25.50368), (8.375, -27.625))
            Line((8.375, -27.625), (8.375, -29))
            Line((8.375, -29), (-8.375, -29))
            Line((-8.375, -29), (-8.375, -27.625))
        make_face(mode=Mode.SUBTRACT)
    extrude(amount=PAD004_DEPTH)

    # Chamfer
    chamfer_edges = [rear_panel.edges().sort_by_distance(p)[0] for p in [
        (13.25, 0, -6.5),
        (-13.25, 0, -6.5),
    ]]
    chamfer(chamfer_edges, length=CHAMFER_SIZE)

    # Chamfer001
    chamfer001_edges = [rear_panel.edges().sort_by_distance(p)[0] for p in [
        (-1.8, 35.875, -9.5),
        (-1.8, -35.875, -9.5),
    ]]
    chamfer(chamfer001_edges, length=CHAMFER001_SIZE)

    # Chamfer002
    chamfer002_edges = [rear_panel.edges().sort_by_distance(p)[0] for p in [
        (9.675, -27.625, -11.5),
        (9.675, 27.625, -11.5),
        (-13.075, 27.625, -11.5),
        (-13.075, -27.625, -11.5),
    ]]
    chamfer(chamfer002_edges, length=CHAMFER002_SIZE)


solid = Compound([front_section.part, rear_panel.part])
